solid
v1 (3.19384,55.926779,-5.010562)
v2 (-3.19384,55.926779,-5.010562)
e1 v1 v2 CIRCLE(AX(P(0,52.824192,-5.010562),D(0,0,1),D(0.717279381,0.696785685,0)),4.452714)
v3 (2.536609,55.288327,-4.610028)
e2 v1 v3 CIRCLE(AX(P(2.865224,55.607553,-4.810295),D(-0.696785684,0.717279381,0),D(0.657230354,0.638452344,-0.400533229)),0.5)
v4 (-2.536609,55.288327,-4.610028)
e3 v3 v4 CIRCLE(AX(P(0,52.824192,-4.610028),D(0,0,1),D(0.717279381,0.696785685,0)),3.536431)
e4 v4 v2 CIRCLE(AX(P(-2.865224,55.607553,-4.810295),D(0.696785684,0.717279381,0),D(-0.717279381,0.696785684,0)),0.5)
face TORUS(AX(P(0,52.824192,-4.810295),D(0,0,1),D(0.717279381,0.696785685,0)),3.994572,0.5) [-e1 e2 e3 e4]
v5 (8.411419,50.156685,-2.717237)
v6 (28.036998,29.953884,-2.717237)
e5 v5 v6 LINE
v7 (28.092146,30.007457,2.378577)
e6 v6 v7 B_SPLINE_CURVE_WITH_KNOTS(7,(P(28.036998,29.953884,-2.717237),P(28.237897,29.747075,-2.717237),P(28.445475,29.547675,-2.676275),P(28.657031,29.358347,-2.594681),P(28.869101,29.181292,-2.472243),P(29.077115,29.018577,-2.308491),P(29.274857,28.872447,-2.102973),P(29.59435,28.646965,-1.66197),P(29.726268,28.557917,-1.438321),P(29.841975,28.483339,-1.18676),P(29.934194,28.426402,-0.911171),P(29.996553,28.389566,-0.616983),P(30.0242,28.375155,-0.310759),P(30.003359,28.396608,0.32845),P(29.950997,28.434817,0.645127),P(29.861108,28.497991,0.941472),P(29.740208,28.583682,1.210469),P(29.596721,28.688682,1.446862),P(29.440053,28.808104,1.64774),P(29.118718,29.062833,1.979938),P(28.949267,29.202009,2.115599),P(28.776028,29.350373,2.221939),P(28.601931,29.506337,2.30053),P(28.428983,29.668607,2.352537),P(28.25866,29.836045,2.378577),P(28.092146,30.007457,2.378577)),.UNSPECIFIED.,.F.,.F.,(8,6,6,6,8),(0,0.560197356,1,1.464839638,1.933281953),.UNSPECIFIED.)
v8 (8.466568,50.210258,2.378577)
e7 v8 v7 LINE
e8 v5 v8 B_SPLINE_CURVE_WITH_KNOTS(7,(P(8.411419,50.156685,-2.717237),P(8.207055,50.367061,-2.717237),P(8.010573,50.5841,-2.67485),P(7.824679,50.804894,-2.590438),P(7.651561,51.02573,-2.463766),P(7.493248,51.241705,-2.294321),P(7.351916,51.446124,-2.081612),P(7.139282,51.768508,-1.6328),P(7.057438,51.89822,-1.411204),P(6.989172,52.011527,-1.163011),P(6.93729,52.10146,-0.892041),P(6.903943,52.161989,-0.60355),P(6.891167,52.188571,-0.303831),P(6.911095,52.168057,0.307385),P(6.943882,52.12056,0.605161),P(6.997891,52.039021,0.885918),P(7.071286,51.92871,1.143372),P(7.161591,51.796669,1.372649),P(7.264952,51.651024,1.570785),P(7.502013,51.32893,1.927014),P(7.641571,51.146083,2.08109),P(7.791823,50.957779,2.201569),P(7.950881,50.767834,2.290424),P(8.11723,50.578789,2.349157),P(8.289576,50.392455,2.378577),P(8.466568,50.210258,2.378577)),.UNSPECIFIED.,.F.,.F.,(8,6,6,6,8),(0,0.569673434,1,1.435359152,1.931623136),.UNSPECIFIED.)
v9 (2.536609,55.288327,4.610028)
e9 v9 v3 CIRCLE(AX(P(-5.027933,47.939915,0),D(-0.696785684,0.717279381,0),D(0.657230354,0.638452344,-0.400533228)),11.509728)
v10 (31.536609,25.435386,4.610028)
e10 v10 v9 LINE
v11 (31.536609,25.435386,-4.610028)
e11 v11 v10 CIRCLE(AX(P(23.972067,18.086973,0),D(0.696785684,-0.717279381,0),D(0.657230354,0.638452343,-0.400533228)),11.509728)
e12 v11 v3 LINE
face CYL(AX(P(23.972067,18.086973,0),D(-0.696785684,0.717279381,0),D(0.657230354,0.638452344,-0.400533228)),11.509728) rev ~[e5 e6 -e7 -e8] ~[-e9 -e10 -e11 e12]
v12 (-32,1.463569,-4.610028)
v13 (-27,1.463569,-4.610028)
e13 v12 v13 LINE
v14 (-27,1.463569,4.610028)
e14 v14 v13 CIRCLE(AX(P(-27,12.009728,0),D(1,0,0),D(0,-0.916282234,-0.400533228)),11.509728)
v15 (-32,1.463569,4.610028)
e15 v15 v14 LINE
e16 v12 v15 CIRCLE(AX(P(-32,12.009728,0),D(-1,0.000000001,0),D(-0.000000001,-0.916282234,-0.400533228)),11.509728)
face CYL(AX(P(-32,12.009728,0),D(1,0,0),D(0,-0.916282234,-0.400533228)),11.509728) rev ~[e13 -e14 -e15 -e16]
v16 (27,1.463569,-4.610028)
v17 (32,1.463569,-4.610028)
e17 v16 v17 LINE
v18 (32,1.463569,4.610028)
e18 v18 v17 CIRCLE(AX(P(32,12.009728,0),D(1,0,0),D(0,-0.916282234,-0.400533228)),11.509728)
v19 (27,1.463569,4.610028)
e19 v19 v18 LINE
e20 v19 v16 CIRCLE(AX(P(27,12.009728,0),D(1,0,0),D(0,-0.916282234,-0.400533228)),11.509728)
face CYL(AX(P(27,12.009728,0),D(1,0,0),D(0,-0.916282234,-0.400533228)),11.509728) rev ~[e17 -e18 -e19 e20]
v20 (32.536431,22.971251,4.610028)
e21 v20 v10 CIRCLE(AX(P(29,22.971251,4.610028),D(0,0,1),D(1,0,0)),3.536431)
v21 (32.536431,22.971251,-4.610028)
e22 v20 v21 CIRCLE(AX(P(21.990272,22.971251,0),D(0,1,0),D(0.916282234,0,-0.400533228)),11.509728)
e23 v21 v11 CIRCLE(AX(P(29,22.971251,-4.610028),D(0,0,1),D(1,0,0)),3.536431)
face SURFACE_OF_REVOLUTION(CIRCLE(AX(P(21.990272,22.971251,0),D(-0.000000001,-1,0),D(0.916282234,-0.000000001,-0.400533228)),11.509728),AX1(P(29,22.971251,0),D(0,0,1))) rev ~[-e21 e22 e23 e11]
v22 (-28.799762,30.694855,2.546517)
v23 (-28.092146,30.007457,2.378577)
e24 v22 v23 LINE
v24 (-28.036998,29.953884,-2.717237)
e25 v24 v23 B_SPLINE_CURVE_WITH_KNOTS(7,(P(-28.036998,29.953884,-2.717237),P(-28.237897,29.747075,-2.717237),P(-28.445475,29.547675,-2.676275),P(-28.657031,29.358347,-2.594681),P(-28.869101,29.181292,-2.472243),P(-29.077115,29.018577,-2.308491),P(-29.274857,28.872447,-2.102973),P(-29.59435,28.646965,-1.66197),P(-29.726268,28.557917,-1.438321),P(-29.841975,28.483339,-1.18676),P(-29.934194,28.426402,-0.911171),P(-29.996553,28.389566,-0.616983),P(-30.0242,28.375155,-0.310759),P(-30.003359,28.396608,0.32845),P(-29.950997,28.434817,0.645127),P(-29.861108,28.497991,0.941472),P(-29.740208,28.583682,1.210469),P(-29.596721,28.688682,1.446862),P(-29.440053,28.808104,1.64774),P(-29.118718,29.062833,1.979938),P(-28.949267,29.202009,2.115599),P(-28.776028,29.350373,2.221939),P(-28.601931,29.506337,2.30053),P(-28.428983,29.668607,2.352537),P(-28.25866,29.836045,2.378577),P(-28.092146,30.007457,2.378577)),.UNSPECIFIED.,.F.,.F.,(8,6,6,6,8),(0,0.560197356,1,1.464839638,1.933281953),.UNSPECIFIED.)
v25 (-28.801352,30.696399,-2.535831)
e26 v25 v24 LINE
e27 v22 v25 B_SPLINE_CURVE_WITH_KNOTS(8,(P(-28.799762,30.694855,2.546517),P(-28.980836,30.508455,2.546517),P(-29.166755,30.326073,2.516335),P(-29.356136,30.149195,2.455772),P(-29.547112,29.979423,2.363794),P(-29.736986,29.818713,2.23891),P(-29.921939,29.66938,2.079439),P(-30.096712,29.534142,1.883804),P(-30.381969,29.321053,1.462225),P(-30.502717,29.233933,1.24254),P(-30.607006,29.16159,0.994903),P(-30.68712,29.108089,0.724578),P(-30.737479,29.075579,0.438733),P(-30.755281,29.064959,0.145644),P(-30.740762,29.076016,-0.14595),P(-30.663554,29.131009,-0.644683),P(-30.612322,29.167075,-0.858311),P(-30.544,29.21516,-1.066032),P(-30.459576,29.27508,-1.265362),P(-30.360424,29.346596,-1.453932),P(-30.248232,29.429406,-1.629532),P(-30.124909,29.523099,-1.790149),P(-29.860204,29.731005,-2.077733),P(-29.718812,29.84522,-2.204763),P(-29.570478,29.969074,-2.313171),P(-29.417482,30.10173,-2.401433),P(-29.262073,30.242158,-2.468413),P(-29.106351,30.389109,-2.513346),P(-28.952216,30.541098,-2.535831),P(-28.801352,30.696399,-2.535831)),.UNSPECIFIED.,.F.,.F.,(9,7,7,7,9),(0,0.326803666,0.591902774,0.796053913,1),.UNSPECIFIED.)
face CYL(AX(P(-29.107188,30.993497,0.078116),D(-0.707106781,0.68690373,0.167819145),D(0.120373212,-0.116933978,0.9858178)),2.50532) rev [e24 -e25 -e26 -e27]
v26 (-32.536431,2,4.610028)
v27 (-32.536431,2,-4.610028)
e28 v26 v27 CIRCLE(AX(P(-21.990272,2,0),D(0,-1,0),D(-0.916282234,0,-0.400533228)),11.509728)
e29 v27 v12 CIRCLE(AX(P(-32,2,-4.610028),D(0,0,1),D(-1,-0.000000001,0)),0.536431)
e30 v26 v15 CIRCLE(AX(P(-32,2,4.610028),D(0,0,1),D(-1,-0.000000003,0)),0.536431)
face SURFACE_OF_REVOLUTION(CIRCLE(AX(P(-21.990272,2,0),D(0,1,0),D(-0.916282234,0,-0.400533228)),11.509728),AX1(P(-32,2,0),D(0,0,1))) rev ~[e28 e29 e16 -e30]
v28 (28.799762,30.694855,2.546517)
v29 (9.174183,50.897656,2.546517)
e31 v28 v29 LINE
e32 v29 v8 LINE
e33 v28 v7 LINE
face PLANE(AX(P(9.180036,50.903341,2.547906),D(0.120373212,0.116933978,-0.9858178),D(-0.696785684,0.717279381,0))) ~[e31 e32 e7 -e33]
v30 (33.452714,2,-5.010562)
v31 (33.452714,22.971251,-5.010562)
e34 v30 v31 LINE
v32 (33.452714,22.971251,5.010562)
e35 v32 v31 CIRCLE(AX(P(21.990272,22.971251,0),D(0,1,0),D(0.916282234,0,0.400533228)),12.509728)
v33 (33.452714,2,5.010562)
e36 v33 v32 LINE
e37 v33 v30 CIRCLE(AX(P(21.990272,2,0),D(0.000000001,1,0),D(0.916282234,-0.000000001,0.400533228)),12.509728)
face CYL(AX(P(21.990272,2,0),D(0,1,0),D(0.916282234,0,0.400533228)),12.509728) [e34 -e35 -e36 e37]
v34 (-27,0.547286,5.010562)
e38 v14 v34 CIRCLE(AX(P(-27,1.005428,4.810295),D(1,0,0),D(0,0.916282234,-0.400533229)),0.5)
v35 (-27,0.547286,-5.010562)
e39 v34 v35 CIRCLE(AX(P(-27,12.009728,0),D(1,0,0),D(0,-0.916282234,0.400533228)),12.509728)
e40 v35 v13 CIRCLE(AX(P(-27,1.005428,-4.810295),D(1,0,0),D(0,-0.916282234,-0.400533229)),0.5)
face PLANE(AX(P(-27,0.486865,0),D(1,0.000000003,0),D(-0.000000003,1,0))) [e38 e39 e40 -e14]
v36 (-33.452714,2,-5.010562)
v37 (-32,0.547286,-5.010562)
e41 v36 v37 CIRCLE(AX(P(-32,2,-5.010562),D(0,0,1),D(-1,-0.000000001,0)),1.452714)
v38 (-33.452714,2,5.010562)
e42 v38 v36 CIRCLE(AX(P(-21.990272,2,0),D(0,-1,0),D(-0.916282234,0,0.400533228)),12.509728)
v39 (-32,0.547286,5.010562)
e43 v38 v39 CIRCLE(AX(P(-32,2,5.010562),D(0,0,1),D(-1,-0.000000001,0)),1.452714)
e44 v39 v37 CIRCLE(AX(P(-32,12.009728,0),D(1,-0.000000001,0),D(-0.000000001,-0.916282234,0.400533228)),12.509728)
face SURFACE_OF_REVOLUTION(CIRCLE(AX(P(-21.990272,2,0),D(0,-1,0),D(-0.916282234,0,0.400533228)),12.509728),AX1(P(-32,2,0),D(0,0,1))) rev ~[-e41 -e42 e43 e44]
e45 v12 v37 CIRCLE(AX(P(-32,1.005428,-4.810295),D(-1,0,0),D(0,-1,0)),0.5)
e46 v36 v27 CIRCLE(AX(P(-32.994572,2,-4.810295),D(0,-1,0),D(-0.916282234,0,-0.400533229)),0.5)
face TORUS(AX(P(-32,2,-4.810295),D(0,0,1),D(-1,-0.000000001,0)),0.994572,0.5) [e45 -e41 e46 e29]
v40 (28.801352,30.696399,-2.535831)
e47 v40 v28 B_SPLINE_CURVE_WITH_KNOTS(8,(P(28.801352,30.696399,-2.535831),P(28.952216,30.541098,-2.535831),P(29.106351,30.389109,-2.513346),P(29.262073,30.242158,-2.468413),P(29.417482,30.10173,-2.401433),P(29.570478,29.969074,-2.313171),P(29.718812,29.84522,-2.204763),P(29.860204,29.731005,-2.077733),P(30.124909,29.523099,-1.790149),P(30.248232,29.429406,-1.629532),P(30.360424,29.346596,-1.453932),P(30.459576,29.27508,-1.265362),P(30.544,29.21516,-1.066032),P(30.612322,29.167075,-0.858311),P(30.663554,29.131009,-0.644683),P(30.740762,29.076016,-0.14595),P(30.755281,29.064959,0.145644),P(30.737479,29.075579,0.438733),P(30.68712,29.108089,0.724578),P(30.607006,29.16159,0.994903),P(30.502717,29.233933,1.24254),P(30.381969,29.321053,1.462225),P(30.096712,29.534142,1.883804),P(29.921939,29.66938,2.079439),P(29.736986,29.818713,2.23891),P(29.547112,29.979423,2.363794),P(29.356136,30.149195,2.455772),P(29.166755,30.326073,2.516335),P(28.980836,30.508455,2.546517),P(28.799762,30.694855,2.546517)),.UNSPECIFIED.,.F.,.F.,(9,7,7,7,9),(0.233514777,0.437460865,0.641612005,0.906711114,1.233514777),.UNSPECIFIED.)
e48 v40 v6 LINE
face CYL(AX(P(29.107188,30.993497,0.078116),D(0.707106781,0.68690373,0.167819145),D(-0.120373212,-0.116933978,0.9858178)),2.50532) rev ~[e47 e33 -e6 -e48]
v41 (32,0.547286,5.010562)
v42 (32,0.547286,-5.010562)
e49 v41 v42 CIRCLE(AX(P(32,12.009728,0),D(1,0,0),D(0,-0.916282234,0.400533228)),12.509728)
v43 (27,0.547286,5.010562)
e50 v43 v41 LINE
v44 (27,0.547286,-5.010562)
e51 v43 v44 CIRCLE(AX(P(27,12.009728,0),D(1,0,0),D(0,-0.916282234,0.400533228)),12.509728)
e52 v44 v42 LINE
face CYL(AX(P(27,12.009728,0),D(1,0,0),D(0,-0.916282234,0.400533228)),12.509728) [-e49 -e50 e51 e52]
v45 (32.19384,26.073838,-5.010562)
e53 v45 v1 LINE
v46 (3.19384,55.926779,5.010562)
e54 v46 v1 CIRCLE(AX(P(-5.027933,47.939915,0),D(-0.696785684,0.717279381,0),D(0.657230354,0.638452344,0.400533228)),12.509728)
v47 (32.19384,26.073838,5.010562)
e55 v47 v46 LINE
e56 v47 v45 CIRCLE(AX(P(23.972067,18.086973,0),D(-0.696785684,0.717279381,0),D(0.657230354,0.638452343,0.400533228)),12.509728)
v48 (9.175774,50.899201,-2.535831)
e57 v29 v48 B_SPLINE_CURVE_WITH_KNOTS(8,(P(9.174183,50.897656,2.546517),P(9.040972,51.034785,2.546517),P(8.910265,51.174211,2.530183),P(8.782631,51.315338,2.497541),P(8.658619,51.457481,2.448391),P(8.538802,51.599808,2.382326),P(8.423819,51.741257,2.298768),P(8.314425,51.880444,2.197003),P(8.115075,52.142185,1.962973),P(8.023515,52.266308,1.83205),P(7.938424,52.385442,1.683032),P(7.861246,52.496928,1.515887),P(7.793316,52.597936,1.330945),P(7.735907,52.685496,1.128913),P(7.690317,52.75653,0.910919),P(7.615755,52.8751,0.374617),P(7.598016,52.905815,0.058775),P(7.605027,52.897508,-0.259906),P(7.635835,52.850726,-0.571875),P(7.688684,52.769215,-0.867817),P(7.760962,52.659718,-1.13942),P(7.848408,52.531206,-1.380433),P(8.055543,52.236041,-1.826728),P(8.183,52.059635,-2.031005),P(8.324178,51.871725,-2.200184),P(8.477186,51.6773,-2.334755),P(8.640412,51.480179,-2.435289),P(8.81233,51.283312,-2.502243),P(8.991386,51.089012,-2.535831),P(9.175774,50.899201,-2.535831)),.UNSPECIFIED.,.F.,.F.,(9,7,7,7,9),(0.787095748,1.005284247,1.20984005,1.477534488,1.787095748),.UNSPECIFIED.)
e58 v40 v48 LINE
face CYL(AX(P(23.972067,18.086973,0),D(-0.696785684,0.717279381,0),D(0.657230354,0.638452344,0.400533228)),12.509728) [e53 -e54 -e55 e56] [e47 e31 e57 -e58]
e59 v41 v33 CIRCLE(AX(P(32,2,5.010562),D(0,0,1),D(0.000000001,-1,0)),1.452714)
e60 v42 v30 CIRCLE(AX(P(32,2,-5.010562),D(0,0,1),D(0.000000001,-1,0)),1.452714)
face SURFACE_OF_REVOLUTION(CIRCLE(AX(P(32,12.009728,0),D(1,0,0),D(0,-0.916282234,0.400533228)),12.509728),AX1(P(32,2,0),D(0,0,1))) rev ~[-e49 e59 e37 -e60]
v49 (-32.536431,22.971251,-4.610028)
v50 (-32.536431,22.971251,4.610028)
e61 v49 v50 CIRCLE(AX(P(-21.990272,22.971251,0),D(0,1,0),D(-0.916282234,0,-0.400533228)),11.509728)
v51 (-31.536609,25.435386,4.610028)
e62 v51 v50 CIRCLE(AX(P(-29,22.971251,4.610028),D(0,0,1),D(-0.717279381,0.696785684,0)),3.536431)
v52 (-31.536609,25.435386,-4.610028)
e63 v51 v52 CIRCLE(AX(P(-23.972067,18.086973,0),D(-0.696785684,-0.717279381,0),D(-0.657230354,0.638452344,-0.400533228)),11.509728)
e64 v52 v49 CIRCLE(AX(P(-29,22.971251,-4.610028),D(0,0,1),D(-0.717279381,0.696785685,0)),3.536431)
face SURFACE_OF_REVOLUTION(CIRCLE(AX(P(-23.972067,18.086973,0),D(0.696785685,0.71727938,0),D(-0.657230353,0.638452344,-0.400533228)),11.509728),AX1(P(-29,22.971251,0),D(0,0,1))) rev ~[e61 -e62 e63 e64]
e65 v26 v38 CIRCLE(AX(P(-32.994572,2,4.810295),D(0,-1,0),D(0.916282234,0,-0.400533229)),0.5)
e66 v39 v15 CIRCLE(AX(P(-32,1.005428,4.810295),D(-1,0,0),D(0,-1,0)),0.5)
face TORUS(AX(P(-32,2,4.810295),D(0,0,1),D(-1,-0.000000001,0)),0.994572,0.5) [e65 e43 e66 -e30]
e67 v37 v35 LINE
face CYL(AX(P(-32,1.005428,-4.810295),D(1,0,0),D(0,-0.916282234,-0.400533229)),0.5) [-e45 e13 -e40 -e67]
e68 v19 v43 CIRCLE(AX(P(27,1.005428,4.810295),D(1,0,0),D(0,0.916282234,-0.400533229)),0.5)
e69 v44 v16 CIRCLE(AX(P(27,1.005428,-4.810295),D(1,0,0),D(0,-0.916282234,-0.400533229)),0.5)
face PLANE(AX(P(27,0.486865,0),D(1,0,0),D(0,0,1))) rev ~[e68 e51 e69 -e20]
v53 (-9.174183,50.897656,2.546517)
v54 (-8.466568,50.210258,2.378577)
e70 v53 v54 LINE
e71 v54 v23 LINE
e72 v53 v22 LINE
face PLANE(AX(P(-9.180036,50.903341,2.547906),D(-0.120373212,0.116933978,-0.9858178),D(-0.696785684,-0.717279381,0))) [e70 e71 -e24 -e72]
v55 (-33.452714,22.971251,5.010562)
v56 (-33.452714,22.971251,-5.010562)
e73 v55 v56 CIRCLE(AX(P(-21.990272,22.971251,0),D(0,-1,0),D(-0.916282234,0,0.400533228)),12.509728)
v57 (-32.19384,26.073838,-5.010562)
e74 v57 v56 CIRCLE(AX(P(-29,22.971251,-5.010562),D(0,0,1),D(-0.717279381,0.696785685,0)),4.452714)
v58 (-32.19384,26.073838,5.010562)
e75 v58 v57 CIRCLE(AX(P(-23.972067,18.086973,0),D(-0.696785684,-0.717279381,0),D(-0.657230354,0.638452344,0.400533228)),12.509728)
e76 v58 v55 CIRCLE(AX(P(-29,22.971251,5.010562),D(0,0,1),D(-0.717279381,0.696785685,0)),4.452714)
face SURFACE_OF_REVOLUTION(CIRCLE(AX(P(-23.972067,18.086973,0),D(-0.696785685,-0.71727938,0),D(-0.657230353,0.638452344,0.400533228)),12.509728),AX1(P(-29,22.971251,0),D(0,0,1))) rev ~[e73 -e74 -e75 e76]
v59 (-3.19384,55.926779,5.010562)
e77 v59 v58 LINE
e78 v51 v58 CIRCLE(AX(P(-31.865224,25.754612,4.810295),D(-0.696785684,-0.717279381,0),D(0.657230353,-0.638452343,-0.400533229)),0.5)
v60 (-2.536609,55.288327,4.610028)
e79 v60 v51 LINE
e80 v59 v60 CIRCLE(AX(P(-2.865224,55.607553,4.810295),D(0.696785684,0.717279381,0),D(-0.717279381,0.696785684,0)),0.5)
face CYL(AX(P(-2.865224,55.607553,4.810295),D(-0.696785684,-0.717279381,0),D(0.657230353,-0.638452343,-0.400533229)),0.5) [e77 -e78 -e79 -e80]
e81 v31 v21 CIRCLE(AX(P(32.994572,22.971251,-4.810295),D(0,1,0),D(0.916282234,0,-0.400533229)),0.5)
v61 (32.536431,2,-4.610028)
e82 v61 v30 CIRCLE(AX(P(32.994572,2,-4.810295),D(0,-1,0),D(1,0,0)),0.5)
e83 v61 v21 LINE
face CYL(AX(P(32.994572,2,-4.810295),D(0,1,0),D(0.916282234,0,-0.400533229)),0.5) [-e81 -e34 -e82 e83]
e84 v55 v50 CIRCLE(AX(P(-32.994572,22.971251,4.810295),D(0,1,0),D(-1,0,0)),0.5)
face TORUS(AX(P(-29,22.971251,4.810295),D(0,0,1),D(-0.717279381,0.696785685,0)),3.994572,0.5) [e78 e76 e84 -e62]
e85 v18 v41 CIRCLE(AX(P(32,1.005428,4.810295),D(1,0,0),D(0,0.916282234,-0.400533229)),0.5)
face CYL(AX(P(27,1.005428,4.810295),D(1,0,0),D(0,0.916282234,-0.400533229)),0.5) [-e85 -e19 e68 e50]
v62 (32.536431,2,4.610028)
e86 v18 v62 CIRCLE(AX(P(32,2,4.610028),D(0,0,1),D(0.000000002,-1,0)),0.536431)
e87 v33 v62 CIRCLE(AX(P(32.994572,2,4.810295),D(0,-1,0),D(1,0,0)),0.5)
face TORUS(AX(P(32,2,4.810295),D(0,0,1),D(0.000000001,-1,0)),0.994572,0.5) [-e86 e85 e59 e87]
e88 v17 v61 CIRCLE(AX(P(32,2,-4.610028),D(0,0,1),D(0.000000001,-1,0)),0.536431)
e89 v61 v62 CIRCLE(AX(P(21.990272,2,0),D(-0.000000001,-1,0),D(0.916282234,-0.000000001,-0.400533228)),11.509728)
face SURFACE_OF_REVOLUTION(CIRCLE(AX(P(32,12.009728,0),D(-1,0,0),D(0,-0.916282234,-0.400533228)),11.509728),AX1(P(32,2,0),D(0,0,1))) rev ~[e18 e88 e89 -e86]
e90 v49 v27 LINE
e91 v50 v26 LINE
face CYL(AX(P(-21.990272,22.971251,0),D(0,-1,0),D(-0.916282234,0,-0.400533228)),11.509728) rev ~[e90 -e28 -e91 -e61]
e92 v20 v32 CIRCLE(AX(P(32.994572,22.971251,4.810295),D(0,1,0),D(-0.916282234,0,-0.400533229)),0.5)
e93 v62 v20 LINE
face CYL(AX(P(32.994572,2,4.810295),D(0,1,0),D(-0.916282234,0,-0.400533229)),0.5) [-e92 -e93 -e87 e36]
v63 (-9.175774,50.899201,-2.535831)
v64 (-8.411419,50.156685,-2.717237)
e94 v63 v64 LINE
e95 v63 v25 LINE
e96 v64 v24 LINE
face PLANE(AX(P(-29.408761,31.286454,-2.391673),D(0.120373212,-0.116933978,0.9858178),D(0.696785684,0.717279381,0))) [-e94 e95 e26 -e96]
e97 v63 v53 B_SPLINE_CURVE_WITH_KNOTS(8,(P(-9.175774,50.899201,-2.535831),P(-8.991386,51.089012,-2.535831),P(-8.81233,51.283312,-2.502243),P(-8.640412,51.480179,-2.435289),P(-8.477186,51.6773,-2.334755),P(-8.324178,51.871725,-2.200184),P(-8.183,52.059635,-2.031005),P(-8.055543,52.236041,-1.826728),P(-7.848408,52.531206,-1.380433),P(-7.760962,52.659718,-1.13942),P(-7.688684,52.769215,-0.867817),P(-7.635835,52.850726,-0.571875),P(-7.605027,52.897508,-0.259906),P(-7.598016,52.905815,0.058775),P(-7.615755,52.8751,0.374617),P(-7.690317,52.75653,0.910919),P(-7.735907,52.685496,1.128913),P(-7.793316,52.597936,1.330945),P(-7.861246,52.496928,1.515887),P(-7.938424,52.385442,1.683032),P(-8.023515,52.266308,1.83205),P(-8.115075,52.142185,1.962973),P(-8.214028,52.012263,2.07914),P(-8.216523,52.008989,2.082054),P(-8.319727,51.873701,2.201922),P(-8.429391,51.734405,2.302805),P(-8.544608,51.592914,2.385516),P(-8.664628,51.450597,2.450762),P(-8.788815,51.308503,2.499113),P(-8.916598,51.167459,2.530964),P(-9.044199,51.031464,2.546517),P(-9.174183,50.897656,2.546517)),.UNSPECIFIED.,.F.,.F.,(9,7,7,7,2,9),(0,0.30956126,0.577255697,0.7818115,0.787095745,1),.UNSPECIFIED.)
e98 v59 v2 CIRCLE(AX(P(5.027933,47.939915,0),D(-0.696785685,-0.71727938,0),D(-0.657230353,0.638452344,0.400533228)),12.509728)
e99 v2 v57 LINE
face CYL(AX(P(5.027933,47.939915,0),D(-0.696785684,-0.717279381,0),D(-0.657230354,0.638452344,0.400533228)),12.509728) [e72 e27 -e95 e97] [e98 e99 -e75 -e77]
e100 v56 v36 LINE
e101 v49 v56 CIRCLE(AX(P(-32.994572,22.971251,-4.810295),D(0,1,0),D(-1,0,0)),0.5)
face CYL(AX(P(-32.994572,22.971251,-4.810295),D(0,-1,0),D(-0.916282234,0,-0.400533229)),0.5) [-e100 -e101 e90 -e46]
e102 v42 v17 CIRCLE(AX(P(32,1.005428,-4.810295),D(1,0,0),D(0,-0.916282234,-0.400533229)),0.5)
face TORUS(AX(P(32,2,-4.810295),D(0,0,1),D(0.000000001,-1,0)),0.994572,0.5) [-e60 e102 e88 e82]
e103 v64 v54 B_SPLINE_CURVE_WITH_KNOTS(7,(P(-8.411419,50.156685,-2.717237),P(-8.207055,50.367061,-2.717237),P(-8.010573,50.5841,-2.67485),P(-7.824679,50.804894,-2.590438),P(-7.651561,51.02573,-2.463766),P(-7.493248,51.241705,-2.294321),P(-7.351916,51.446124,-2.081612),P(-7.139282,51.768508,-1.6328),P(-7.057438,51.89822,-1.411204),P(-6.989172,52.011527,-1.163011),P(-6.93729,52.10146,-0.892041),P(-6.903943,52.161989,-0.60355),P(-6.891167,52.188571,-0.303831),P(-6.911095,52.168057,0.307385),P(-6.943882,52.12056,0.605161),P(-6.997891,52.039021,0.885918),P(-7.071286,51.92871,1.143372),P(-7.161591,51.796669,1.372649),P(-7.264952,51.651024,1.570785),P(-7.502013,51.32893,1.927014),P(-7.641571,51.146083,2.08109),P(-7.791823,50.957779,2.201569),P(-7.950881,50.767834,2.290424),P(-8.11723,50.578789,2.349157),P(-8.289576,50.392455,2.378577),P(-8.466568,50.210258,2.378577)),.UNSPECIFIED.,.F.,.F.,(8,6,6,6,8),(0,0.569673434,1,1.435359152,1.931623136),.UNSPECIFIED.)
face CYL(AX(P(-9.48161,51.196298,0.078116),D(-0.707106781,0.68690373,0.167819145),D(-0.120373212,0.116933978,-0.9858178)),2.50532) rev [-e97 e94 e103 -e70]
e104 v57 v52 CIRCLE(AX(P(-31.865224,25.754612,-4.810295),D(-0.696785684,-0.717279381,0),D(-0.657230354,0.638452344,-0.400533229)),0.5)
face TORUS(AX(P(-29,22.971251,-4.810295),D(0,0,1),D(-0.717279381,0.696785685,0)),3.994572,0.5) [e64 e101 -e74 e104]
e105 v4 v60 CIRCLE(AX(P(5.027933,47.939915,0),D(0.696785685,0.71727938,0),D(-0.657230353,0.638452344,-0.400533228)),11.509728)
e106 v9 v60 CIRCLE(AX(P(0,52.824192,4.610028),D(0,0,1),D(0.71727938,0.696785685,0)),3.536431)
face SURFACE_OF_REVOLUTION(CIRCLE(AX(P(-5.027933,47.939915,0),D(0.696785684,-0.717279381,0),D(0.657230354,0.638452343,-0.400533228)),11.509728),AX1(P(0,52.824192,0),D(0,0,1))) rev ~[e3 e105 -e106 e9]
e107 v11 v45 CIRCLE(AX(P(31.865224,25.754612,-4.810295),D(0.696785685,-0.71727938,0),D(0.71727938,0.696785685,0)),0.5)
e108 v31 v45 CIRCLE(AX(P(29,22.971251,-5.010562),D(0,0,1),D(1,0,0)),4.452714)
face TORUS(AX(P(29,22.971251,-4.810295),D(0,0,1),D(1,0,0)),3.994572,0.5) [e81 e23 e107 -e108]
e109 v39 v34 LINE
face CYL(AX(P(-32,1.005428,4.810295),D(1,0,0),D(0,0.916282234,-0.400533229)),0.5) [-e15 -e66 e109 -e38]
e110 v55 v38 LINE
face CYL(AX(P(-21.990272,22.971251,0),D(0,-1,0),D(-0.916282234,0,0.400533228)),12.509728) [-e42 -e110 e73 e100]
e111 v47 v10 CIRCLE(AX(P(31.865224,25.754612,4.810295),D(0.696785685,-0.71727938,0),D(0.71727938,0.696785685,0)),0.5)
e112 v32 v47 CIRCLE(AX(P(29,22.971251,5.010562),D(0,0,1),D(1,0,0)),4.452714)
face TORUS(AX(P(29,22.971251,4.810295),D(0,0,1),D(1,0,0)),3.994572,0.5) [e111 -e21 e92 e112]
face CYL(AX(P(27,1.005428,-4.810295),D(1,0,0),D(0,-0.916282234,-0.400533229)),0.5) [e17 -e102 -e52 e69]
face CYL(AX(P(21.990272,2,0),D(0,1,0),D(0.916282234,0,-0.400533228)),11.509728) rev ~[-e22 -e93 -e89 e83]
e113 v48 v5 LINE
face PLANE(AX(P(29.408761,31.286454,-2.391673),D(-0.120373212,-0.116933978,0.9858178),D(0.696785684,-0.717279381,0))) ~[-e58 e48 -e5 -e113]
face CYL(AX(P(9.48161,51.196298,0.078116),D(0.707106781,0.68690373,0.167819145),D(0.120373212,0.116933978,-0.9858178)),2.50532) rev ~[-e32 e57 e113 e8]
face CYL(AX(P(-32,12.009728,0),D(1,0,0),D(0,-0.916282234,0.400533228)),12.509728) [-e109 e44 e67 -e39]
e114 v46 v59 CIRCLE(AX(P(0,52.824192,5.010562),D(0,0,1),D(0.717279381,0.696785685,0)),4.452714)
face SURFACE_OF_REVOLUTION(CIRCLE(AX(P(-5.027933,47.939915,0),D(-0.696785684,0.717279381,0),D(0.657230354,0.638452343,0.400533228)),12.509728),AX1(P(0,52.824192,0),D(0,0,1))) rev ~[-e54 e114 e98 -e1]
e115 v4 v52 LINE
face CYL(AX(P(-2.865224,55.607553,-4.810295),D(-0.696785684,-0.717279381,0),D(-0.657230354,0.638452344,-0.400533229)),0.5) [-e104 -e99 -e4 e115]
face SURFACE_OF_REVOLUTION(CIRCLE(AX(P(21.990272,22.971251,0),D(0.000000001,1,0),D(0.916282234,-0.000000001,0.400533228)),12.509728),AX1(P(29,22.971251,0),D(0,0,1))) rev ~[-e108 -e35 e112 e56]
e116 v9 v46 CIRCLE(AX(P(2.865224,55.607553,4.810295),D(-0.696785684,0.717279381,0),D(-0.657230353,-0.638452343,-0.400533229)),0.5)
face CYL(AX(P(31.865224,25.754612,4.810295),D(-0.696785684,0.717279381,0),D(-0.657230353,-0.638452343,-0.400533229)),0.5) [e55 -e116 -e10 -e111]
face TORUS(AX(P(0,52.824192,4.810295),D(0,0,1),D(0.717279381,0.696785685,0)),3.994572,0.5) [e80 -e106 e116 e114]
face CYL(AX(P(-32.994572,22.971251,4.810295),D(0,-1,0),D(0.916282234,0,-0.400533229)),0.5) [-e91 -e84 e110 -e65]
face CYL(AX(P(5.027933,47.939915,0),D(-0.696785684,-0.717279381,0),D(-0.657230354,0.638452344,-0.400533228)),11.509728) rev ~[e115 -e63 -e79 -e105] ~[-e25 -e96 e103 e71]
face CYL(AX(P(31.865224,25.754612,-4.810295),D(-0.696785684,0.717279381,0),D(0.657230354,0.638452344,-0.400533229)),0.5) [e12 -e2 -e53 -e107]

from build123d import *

# Parameters (mm, degrees)
CUT_EXTRUDE1_REACH      = 73.67
CUT_EXTRUDE1_END_RADIUS = 11.509727536


with BuildPart() as part:
    # Sweep3: sweep along a path in swept profile
    with BuildLine(Plane.XY) as sweep3_path:
        Line((27, 0), (32, 0))
        ThreePointArc((32, 0), (33.414213562, 0.585786438), (34, 2))
        Line((34, 2), (34, 22.971251236))
        ThreePointArc((34, 22.971251236), (33.633140648, 24.851146908), (32.586396904, 26.455179657))
        Line((32.586396904, 26.455179657), (3.586396904, 56.308120834))
        ThreePointArc((3.586396904, 56.308120834), (0, 57.824192412), (-3.586396904, 56.308120834))
        Line((-3.586396904, 56.308120834), (-32.586396904, 26.455179657))
        ThreePointArc((-32.586396904, 26.455179657), (-33.633140648, 24.851146908), (-34, 22.971251236))
        Line((-34, 22.971251236), (-34, 2))
        ThreePointArc((-34, 2), (-33.414213562, 0.585786438), (-32, 0))
        Line((-32, 0), (-27, 0))
    # guide line → Sweep3 (sweep)
    with BuildSketch(Plane(origin=(27, 0, 0), x_dir=(0, 0, -1), z_dir=(1, 0, 0))):
        with BuildLine():
            ThreePointArc((-5.010561558, 0.547286439), (0, -0.5), (5.010561558, 0.547286439))
            ThreePointArc((5.010561558, 0.547286439), (5.268436061, 1.20569417), (4.610028329, 1.463568673))
            ThreePointArc((4.610028329, 1.463568673), (0, 0.5), (-4.610028329, 1.463568673))
            ThreePointArc((-4.610028329, 1.463568673), (-5.268436061, 1.20569417), (-5.010561558, 0.547286439))
        make_face()
    sweep(path=sweep3_path.line)

    # Cut-Extrude1: up to this cylinder (the profile starts outside it)
    cut_extrude1_end = Plane(origin=(-10.201880326, 32.262165574, 0), z_dir=(-0.6967856842632488, -0.717279380859227, 0)) * Cylinder(CUT_EXTRUDE1_END_RADIUS, 171.359455073, mode=Mode.PRIVATE)
    # Sketch66 → Cut-Extrude1 (cut, up to the surface)
    with BuildSketch(Plane(origin=(-29.616848042, 28.770652384, 7.029029048), x_dir=(-0.6967856842632488, -0.717279380859227, 0), z_dir=(-0.7071067811865512, 0.6869037302955067, 0.16781914463526715)), mode=Mode.PRIVATE) as cut_extrude1_sk1:
        with BuildLine():
            Line((-30.115399458, -4.545589627), (-1.94952466, -4.545589627))
            ThreePointArc((-1.94952466, -4.545589627), (0.55579574, -7.050910027), (-1.94952466, -9.556230427))
            Line((-1.94952466, -9.556230427), (-30.115399458, -9.556230427))
            ThreePointArc((-30.115399458, -9.556230427), (-32.620719857, -7.050910027), (-30.115399458, -4.545589627))
        make_face()
    cut_extrude1_tool1 = extrude(cut_extrude1_sk1.sketch, amount=-CUT_EXTRUDE1_REACH, mode=Mode.PRIVATE) - cut_extrude1_end
    cut_extrude1 = cut_extrude1_tool1.solids().sort_by_distance((-19.294399, 41.094898, 0.078116))[0]
    add(cut_extrude1, mode=Mode.SUBTRACT)

    # Mirror1: Cut-Extrude1 across plane
    add(cut_extrude1.mirror(Plane(origin=(0, 0, 0), x_dir=(0, 0, 1), z_dir=(1, 0, 0))), mode=Mode.SUBTRACT)


solid = part.part
